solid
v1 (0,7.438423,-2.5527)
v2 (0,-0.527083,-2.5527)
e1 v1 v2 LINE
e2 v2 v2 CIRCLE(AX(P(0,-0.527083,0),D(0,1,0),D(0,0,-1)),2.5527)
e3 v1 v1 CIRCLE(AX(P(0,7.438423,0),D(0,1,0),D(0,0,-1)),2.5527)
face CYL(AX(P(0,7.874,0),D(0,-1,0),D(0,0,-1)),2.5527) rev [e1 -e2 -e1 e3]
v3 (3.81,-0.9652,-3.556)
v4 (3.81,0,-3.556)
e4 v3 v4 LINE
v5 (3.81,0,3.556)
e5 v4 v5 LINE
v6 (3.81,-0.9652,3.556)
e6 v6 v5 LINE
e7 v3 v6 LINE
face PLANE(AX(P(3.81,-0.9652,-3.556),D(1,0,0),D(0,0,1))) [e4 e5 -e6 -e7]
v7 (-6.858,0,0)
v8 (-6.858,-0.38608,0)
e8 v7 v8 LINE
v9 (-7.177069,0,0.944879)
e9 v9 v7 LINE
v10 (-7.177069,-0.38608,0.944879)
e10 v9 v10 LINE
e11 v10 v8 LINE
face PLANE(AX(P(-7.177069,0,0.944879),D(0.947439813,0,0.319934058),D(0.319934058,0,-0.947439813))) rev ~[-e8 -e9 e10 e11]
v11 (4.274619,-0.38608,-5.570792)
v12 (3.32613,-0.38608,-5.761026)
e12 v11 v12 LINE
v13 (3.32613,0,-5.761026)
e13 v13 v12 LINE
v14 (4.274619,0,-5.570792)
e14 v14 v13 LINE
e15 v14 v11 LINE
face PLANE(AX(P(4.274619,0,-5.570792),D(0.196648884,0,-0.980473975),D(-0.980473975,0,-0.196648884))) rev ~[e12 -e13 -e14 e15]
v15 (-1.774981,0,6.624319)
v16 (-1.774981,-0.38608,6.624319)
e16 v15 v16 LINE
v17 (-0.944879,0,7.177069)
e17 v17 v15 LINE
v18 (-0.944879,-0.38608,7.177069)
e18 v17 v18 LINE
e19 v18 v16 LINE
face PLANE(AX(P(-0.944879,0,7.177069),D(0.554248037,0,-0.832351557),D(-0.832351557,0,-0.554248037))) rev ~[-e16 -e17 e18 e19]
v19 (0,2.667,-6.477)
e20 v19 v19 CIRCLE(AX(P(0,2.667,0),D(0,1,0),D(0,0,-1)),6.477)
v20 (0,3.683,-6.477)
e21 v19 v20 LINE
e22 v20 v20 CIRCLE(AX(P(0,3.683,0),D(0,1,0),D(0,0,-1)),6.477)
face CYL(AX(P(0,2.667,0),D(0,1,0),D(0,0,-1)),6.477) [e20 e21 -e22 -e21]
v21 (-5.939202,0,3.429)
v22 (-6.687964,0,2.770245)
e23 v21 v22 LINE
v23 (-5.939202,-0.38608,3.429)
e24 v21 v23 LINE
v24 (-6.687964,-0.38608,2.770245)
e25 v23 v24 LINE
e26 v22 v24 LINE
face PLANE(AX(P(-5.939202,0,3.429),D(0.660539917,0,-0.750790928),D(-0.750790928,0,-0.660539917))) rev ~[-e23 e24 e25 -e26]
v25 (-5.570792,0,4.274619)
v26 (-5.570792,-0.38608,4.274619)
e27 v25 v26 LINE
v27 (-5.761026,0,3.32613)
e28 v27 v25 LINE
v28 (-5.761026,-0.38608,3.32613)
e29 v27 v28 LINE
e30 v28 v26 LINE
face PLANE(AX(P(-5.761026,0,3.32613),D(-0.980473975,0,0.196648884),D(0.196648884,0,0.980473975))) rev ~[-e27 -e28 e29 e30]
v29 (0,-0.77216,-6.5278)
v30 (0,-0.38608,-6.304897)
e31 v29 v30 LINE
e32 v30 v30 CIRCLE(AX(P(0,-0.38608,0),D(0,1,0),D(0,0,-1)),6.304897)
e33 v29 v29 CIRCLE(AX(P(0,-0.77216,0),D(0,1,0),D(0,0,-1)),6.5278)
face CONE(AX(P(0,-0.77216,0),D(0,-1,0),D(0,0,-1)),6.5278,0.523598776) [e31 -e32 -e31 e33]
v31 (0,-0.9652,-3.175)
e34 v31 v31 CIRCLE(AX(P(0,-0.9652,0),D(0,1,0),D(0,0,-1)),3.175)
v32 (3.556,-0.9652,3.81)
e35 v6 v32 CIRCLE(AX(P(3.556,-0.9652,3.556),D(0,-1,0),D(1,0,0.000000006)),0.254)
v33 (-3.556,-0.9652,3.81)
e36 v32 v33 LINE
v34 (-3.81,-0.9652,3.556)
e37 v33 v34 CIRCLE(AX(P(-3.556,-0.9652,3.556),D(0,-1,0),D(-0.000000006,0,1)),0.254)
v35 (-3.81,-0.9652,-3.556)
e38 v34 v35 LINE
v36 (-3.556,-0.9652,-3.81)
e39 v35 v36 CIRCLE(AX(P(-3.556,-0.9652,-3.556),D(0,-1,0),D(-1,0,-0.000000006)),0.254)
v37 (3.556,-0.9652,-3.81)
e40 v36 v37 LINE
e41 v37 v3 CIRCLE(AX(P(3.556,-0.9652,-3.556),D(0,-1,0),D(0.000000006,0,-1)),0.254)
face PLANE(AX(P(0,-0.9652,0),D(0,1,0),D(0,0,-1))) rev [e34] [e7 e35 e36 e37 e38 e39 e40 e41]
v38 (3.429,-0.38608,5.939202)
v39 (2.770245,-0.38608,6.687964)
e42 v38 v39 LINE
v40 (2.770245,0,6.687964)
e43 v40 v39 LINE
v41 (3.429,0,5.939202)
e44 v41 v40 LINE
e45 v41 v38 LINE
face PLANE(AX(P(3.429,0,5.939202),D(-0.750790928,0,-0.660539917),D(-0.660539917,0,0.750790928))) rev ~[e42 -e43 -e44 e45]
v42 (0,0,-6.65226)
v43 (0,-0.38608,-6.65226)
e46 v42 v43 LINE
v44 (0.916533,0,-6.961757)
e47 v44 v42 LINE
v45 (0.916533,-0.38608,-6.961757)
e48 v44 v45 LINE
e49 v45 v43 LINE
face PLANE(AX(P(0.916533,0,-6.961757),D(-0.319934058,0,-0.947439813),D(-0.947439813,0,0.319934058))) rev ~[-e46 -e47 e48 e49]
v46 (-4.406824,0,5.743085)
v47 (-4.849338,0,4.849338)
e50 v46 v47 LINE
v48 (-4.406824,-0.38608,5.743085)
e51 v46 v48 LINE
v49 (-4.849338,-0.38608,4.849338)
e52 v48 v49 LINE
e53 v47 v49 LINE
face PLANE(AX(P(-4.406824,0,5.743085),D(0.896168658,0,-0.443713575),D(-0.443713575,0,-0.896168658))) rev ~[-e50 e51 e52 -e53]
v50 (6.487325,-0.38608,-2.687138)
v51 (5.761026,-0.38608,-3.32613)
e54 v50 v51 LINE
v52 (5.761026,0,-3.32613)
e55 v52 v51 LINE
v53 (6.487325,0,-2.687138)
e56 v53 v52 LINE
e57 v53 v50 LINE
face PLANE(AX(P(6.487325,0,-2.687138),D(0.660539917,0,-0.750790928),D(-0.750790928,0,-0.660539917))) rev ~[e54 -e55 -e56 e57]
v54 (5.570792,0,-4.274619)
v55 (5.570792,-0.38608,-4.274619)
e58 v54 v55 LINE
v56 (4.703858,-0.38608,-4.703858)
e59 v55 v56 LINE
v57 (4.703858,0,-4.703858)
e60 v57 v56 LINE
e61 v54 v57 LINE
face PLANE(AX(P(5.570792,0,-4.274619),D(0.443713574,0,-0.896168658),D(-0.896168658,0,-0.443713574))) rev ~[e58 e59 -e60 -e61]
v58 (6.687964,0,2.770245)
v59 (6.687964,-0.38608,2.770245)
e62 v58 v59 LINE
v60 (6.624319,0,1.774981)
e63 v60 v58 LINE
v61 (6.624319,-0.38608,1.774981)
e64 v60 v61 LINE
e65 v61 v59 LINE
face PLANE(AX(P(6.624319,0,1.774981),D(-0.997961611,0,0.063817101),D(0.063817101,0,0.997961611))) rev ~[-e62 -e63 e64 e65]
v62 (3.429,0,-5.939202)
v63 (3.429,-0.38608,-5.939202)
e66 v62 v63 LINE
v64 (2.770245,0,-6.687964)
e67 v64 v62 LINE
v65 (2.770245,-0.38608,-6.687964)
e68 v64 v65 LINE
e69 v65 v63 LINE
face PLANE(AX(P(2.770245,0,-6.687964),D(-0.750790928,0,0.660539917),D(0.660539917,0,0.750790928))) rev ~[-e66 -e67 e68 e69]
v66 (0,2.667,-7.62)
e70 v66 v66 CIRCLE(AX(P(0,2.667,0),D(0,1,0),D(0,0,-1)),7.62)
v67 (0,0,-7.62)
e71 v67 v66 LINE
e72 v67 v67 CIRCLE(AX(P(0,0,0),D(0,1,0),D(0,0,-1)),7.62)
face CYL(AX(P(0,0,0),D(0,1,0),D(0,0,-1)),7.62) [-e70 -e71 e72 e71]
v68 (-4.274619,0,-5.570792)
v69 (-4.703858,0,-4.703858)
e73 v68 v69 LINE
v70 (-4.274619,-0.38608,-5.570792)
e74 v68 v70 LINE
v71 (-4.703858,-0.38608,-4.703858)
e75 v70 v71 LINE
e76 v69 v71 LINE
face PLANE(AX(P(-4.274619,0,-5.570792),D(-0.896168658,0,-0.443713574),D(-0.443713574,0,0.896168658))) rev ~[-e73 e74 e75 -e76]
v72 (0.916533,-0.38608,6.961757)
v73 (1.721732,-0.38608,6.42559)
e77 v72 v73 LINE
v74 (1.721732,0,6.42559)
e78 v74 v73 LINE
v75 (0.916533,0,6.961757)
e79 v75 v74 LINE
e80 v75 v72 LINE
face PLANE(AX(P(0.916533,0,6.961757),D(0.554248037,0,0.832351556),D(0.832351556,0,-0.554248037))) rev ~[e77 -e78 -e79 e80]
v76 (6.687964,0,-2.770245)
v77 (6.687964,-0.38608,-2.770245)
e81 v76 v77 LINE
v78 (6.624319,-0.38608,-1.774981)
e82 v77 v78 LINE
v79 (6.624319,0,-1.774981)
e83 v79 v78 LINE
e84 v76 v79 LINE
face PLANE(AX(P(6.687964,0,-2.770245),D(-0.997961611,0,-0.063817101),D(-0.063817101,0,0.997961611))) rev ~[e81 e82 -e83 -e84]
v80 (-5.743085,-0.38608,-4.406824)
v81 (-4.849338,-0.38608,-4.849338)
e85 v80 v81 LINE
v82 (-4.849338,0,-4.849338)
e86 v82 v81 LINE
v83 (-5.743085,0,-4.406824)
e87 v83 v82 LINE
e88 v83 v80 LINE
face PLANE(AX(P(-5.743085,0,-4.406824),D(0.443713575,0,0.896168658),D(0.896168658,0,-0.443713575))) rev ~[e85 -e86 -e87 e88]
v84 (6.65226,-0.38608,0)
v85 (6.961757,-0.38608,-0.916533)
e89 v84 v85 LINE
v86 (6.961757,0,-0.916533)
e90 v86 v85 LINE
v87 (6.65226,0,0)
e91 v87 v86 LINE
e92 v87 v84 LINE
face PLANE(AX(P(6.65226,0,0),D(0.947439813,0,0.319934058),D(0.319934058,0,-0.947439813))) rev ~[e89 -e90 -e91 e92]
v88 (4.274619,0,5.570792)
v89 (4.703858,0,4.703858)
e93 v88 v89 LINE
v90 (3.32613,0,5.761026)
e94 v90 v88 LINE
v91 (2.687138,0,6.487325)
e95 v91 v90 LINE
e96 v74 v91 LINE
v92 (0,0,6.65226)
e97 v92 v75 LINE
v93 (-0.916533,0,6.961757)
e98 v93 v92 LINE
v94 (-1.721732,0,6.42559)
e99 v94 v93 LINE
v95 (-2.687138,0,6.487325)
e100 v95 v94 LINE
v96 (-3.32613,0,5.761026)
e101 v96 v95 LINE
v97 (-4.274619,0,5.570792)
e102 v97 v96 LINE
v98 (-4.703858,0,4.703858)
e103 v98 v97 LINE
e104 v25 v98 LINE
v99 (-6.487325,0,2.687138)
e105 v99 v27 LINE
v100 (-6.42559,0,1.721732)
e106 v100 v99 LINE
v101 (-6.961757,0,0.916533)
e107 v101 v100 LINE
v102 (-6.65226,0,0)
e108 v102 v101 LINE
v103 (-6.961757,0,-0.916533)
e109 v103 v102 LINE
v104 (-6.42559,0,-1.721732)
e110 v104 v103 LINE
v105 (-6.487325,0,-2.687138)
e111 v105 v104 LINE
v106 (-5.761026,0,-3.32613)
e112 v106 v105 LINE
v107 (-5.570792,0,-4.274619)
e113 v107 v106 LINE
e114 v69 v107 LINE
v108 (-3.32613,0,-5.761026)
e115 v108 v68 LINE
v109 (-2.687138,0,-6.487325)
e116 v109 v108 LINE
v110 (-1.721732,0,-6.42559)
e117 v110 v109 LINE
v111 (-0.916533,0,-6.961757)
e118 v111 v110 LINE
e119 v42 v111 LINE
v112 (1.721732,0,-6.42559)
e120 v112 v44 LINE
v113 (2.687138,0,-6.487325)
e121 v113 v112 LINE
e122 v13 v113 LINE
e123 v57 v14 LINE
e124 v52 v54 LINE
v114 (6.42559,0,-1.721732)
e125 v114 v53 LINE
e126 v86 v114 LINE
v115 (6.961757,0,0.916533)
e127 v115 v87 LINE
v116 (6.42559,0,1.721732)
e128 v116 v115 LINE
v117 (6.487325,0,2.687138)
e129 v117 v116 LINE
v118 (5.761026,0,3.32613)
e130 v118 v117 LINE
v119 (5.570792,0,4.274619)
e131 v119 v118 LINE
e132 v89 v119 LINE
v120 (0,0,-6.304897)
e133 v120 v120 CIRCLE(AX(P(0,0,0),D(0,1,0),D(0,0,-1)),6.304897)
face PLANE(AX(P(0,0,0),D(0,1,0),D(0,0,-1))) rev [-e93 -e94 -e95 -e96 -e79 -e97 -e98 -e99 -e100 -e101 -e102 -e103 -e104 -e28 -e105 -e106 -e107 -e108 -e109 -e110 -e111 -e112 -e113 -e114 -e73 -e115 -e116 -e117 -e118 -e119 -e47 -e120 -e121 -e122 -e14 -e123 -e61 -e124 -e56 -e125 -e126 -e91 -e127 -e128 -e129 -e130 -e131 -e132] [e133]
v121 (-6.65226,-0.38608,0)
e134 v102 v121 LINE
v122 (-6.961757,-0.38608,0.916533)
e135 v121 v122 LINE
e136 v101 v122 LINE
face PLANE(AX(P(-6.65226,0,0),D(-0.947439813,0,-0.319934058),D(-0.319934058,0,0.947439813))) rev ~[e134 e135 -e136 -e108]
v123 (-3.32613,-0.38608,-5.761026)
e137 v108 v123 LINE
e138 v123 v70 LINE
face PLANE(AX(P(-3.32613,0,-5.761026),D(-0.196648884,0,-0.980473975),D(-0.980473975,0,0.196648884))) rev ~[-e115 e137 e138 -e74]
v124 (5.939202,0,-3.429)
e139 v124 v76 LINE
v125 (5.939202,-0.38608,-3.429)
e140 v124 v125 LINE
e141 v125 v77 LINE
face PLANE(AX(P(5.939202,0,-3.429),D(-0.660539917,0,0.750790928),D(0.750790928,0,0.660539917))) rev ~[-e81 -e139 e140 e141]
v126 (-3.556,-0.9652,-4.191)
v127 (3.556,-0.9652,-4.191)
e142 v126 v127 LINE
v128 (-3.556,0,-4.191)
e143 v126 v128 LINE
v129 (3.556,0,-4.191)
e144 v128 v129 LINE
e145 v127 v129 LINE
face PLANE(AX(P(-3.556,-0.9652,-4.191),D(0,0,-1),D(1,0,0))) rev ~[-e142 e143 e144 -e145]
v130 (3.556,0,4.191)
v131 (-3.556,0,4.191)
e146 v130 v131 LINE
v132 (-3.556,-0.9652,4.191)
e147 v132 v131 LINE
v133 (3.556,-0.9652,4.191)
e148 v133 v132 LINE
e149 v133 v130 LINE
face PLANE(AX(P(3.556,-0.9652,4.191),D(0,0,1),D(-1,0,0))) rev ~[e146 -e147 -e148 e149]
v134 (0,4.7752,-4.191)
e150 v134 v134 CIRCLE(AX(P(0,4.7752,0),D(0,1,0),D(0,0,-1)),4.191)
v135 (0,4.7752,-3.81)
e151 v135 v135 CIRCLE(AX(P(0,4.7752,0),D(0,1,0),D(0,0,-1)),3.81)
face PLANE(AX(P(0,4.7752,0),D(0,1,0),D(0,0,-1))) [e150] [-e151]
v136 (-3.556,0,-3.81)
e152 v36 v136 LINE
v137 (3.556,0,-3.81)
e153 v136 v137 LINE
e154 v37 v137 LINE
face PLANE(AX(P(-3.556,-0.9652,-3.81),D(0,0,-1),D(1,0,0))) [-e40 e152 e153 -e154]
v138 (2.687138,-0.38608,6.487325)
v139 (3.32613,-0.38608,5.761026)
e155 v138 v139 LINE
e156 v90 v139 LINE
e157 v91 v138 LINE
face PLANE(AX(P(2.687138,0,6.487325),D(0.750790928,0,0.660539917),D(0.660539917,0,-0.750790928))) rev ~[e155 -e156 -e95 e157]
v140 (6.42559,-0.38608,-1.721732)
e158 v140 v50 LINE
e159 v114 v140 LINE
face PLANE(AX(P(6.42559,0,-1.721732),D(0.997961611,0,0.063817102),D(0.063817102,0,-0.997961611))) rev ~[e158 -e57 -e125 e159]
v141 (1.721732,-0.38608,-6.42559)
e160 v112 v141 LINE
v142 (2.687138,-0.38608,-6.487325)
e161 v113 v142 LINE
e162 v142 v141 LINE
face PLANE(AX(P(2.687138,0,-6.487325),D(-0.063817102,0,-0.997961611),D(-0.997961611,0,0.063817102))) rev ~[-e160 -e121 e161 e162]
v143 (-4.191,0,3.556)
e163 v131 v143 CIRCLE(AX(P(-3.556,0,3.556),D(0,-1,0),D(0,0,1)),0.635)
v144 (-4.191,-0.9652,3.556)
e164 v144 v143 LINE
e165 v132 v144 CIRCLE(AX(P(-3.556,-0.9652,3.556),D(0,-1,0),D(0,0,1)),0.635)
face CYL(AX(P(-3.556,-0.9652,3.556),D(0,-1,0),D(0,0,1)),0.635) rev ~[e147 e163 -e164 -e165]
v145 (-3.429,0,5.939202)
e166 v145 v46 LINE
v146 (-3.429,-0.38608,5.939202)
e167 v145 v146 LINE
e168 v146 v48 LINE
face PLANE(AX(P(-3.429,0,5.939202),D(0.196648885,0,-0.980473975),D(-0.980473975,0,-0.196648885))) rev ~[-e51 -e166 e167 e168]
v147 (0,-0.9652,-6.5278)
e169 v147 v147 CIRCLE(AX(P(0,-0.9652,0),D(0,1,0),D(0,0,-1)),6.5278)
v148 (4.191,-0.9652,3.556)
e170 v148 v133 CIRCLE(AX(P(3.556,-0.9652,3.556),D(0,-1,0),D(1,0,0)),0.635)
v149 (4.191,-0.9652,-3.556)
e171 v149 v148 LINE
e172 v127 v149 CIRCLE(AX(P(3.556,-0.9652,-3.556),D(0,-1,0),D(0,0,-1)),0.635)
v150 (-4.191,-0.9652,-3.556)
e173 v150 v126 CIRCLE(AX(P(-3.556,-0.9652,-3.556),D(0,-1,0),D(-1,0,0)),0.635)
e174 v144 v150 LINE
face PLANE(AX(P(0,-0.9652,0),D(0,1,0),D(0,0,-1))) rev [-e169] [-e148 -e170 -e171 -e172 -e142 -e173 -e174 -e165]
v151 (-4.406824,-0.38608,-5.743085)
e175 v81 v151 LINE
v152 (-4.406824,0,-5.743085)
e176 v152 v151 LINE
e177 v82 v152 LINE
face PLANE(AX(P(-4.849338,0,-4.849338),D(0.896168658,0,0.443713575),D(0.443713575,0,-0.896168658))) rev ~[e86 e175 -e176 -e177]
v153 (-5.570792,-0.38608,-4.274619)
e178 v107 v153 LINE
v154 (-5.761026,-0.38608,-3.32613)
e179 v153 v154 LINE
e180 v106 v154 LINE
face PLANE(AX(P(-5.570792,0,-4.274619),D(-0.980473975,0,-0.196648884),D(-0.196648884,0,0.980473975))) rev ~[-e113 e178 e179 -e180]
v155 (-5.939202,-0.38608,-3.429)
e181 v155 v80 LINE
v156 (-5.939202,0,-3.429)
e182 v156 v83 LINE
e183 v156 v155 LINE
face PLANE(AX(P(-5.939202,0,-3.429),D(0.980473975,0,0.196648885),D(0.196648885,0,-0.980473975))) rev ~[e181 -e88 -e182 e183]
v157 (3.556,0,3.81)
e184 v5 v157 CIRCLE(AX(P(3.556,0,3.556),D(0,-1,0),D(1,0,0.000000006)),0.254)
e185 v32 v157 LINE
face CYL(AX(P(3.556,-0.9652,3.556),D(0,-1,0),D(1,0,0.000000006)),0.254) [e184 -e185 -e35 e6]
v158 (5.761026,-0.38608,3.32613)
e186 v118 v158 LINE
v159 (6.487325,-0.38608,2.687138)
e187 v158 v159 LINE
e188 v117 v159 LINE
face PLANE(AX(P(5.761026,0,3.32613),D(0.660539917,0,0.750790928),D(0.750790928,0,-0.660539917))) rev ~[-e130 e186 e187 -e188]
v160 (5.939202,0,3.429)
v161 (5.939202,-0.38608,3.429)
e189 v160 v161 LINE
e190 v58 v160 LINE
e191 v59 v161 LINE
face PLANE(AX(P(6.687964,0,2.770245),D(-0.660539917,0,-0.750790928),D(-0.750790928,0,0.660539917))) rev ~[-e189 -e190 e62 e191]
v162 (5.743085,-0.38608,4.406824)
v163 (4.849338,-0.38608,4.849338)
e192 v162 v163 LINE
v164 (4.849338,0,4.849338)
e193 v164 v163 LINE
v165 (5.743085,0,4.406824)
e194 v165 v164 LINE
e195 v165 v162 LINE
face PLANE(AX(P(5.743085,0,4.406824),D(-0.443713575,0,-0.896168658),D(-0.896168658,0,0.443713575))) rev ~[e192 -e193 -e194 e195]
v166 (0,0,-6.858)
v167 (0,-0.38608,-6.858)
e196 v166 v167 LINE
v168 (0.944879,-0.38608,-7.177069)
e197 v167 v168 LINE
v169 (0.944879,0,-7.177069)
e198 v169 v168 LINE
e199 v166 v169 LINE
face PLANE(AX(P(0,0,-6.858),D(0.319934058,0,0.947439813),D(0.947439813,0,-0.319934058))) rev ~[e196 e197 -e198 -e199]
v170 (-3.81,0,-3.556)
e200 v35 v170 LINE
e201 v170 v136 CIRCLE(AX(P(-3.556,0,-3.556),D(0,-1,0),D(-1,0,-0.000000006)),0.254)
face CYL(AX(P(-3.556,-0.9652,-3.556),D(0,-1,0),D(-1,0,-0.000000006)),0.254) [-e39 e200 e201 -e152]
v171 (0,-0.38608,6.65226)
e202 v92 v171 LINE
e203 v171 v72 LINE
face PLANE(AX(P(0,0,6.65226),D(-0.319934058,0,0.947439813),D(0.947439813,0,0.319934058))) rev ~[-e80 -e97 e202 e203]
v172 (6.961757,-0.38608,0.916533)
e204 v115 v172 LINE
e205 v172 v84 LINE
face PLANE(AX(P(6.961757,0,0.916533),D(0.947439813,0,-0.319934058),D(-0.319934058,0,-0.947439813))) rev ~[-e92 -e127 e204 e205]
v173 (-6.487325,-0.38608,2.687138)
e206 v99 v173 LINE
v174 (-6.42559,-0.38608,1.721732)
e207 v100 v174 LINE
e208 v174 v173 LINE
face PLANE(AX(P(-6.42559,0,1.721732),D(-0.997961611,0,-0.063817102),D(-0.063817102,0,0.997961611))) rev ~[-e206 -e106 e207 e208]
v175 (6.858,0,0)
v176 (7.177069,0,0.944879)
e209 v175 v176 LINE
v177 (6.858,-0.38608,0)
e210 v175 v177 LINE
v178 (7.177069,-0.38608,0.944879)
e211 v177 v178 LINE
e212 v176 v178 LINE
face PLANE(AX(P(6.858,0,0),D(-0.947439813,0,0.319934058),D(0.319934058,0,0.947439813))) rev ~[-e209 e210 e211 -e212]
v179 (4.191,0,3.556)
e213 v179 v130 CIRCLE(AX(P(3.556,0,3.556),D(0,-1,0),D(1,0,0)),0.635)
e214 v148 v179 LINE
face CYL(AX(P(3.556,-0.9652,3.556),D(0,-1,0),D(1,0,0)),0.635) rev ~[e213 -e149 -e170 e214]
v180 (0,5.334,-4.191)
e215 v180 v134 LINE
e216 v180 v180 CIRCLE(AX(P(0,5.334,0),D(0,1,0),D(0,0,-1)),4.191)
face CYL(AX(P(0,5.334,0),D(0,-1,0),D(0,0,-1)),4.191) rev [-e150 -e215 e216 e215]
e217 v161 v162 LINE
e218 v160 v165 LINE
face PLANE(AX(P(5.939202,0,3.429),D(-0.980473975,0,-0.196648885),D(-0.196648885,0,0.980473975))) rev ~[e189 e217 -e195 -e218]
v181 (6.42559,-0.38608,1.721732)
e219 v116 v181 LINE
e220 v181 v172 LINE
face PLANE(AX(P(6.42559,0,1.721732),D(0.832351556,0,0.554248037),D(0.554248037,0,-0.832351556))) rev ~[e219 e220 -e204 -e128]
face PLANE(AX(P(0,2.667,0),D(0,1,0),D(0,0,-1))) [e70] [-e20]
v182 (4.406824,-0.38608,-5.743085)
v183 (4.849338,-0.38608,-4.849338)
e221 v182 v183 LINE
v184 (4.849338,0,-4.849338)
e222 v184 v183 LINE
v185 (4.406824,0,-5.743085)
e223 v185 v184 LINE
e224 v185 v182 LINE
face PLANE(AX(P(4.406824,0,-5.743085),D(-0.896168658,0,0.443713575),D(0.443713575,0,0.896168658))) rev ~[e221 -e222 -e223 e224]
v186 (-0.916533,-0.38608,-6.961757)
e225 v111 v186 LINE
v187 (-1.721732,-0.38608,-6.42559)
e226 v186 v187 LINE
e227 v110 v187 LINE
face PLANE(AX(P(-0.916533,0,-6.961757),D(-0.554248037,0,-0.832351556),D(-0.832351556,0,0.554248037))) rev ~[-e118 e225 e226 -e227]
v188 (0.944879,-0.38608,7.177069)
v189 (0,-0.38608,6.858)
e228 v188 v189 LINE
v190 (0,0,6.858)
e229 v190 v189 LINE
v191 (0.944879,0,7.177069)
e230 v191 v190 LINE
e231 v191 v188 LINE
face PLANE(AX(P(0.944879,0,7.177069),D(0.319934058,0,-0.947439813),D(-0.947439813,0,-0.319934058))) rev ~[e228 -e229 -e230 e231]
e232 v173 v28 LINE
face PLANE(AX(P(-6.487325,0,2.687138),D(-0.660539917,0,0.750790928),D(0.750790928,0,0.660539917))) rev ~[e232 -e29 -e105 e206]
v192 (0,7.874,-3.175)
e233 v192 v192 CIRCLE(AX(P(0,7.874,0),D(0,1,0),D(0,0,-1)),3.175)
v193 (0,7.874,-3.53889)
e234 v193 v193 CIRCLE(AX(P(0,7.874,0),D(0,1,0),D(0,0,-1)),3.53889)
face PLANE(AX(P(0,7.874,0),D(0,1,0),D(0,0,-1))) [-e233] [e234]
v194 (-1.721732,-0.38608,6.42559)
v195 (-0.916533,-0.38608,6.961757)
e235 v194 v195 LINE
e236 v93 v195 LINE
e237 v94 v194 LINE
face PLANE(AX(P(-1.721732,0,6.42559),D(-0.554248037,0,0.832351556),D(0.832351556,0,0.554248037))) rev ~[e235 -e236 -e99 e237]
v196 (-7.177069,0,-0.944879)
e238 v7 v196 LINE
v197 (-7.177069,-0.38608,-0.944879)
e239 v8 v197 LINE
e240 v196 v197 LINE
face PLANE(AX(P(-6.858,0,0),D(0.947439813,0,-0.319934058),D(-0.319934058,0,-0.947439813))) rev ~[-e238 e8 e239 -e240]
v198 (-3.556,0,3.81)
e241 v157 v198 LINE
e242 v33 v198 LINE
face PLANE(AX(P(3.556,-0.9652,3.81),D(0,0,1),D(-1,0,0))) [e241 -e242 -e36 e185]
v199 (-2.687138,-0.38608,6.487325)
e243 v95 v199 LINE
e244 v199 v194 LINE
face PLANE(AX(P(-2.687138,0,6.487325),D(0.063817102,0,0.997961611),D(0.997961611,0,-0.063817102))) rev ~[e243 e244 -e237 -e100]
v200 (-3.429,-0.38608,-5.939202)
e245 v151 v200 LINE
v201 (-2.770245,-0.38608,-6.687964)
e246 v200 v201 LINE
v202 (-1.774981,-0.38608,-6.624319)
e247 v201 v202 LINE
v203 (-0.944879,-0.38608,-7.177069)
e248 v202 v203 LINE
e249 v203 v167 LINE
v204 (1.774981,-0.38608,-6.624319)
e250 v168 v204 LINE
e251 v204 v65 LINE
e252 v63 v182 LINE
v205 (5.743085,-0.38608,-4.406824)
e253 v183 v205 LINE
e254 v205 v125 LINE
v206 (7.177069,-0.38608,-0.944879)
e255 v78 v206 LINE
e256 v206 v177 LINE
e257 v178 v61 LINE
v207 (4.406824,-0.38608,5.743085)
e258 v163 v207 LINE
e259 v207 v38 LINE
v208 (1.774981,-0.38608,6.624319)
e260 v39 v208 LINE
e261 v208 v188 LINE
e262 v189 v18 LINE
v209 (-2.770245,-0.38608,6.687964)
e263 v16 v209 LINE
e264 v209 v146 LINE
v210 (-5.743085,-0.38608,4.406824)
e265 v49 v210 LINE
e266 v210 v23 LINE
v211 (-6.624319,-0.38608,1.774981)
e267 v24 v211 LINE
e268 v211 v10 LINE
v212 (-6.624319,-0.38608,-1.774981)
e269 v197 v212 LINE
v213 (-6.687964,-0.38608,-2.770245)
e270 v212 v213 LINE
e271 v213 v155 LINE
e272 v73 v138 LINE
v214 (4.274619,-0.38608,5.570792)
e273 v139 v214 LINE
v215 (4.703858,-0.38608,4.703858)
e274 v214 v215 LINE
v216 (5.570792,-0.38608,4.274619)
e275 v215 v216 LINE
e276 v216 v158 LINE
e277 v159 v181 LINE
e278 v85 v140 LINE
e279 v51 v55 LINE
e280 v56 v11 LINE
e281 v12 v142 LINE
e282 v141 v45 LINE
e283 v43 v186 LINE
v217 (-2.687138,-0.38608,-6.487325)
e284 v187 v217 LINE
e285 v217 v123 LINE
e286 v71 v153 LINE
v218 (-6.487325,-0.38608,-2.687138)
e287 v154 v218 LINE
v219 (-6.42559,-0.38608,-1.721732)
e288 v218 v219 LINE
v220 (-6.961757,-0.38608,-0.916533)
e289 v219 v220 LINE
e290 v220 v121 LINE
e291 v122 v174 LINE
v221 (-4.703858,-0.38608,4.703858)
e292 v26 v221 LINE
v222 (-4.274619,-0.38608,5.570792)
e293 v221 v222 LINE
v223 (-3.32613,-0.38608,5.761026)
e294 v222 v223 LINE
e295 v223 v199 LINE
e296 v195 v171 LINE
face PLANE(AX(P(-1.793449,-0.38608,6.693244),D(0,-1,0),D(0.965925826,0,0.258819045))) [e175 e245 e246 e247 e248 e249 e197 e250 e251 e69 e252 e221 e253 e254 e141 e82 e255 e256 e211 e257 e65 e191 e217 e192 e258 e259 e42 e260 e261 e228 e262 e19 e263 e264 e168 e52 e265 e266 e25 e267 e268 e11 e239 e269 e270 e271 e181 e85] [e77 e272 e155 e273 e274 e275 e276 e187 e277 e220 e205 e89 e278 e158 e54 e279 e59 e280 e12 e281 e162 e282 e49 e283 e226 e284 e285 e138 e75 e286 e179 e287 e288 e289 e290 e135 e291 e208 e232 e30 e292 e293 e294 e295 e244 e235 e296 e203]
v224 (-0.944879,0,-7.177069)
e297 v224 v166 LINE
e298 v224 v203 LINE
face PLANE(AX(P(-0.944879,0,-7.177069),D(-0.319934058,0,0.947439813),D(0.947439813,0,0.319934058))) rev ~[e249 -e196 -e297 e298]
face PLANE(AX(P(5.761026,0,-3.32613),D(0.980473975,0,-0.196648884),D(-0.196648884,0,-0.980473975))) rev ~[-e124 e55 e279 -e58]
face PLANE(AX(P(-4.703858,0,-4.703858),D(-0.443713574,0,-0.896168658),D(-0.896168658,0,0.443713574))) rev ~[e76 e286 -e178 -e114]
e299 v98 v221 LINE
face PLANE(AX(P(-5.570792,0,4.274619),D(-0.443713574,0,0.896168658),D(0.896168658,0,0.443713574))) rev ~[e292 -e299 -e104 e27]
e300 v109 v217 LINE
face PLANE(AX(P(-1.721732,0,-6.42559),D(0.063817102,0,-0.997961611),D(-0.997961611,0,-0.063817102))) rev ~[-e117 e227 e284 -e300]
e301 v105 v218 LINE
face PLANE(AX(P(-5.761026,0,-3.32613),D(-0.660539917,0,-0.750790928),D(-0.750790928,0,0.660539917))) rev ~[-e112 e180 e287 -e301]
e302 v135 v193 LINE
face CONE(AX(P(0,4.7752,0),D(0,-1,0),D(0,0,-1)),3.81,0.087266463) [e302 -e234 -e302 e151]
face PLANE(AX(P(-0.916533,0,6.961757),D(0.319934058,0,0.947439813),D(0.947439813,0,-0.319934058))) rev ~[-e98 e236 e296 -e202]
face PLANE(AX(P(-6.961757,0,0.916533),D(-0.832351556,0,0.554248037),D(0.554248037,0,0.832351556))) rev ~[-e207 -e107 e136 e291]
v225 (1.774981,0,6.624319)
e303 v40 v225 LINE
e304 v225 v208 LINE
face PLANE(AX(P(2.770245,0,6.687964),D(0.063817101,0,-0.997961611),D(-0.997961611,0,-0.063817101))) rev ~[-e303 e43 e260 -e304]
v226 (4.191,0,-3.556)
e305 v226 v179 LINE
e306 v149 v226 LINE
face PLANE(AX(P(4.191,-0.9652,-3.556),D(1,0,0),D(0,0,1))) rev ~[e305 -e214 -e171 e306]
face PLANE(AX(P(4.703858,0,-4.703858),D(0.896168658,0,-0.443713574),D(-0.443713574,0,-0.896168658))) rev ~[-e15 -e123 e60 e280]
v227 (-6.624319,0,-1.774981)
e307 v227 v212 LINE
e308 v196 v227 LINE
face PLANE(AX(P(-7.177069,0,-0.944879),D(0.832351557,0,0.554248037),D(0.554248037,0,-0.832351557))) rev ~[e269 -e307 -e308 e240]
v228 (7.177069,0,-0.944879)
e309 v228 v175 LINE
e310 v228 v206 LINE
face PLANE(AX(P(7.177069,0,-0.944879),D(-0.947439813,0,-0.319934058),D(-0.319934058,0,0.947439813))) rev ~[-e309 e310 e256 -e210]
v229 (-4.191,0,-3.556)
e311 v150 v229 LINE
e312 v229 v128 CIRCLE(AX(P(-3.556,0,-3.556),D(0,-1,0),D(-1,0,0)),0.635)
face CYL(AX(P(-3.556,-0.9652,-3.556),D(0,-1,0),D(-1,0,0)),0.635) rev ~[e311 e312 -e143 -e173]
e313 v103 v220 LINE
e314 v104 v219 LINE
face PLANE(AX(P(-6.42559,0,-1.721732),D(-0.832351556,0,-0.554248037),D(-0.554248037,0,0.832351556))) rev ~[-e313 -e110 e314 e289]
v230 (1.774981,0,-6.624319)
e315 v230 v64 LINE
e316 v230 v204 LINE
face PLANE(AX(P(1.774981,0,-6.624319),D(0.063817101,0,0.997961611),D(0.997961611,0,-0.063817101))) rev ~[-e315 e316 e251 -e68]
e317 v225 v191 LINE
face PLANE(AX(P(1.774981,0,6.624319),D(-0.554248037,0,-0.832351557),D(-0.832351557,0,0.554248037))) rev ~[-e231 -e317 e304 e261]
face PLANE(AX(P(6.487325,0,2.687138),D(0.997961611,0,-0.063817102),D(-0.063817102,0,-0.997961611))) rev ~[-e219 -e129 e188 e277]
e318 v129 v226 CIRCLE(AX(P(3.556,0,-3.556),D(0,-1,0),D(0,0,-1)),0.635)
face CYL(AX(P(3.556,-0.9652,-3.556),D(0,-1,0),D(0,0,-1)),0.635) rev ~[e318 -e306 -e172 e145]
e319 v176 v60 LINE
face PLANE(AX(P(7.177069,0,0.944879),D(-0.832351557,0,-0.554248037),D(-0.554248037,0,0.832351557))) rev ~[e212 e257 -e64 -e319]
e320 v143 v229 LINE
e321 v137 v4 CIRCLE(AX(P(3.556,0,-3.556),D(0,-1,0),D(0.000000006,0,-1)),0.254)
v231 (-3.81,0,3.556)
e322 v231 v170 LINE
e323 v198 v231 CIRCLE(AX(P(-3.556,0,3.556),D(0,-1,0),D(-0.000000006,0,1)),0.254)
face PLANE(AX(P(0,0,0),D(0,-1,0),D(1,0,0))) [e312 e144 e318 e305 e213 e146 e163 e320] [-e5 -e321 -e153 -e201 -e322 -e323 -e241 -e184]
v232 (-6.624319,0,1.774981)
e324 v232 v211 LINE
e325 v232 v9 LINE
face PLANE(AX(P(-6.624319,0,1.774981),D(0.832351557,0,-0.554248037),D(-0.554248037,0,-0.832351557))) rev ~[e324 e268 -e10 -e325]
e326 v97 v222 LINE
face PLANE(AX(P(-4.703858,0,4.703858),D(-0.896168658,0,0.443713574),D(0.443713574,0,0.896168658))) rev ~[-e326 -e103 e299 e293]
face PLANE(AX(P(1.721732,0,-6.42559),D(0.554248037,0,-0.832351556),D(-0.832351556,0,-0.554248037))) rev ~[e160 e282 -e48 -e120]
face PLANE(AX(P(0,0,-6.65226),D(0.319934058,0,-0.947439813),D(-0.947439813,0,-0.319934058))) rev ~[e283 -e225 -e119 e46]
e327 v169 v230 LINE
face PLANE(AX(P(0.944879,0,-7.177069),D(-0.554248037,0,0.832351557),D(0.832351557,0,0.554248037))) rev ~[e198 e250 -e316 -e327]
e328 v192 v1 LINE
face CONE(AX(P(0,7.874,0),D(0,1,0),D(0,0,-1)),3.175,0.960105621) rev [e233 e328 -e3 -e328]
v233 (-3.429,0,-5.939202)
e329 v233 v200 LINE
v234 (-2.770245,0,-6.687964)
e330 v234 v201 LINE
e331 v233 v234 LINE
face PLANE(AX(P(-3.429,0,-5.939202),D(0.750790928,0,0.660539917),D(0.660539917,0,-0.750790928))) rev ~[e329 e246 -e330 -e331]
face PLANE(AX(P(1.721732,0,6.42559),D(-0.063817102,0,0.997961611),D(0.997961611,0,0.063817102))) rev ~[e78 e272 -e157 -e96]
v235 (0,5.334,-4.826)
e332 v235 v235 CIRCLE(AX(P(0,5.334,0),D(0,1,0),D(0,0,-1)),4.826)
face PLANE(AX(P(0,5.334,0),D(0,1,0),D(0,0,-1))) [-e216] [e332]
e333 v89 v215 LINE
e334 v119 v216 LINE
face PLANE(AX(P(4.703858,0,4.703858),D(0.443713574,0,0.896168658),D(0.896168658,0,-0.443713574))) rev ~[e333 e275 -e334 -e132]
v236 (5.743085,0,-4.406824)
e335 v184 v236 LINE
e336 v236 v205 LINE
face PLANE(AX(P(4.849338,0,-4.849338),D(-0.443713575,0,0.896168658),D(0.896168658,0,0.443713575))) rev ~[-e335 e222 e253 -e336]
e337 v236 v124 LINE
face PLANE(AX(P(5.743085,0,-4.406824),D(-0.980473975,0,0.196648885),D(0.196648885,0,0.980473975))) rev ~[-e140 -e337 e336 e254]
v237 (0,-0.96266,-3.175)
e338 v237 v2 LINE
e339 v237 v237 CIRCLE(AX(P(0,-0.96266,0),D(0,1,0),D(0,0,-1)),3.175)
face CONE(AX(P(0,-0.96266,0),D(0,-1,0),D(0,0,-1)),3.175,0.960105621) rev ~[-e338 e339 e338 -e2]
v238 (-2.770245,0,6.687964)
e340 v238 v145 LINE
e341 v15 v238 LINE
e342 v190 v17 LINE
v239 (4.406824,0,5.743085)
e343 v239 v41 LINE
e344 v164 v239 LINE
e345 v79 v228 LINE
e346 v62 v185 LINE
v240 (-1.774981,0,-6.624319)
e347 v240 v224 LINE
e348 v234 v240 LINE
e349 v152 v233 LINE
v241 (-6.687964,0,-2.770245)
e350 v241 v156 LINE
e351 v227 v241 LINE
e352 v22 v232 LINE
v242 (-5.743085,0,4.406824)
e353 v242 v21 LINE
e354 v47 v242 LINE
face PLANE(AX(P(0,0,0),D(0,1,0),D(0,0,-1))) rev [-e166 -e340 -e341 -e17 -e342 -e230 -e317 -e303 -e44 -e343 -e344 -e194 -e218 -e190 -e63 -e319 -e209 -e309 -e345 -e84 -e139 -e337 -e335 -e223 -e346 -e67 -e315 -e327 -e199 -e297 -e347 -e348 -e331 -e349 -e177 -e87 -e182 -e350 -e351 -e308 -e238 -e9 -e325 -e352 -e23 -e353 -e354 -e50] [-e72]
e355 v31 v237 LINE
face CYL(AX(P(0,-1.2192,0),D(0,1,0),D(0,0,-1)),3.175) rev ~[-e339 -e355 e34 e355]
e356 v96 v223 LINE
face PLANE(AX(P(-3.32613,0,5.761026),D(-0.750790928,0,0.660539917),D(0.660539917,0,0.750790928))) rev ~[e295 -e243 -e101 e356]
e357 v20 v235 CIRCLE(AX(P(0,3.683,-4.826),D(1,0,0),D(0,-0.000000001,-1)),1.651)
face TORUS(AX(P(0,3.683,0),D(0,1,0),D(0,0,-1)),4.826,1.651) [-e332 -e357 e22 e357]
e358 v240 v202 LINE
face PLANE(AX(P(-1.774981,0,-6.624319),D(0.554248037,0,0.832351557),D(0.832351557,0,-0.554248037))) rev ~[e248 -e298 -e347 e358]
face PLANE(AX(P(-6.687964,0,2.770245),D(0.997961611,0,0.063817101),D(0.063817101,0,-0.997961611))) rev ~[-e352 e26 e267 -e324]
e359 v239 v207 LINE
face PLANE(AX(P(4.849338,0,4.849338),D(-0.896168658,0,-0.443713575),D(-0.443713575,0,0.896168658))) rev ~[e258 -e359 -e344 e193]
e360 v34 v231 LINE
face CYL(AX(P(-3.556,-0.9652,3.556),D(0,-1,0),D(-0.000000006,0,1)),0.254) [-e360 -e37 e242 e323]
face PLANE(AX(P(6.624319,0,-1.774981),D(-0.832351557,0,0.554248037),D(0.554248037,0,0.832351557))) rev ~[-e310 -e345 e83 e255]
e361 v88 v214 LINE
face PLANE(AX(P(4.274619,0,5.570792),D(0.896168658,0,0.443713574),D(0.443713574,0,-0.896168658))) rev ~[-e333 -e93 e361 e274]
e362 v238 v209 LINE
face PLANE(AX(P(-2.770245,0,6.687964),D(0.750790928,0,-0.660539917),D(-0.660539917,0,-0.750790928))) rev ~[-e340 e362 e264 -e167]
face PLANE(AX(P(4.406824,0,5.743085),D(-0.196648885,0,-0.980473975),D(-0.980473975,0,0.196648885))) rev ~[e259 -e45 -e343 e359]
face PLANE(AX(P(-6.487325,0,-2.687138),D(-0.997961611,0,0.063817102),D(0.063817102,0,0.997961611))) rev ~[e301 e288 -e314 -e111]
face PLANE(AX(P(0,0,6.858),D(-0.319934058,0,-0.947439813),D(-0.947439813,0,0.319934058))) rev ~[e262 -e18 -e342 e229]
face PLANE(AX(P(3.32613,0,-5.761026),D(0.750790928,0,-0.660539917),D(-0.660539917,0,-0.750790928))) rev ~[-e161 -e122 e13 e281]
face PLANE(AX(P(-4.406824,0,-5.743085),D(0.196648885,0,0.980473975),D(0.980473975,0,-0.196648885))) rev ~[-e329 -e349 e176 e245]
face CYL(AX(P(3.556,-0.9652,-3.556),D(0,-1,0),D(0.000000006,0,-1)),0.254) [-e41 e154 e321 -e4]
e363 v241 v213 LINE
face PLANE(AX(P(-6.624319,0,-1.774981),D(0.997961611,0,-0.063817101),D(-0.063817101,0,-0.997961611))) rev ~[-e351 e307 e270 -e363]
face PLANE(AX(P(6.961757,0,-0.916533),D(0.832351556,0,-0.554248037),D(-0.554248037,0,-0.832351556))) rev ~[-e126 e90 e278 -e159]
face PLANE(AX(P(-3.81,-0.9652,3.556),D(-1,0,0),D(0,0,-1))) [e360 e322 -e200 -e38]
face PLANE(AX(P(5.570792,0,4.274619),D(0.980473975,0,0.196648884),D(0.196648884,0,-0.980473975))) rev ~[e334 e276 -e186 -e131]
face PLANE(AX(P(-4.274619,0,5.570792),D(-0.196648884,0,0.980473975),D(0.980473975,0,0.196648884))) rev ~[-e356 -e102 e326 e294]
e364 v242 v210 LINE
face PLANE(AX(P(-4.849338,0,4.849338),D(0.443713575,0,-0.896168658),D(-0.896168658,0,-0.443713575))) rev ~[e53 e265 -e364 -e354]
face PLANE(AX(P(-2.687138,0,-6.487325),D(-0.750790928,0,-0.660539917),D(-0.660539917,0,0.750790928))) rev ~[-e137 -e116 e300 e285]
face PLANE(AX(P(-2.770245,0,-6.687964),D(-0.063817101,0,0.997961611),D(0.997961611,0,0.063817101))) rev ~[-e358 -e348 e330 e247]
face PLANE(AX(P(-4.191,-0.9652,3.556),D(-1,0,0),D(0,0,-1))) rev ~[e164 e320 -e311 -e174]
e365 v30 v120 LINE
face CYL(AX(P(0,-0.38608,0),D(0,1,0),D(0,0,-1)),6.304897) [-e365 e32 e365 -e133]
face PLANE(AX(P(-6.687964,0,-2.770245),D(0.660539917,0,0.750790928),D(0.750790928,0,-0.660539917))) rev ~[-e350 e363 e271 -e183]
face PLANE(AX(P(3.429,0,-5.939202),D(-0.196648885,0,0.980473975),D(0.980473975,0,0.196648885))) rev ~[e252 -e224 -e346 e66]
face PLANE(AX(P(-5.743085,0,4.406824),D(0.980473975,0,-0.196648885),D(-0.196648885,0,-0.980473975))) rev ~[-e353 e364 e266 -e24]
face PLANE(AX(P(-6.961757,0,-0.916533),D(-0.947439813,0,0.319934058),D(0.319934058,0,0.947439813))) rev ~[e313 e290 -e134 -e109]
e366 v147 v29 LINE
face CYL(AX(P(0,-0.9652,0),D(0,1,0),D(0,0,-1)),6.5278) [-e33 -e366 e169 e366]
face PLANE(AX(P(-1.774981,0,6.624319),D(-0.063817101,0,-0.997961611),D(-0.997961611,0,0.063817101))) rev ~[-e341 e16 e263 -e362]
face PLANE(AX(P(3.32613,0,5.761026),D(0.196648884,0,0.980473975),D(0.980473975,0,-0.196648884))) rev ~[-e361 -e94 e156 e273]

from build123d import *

# Parameters (mm, degrees)
CLINCHINGRINGSEGMENT_DEPTH = 0.38608
CLINCHINGRING_COUNT        = 24
CLINCHINGRING_ANGLE        = 345
SQRCUT_DEPTH               = 0.9652


with BuildPart() as part:
    # BodySke → Body (revolve)
    with BuildSketch(Plane.XY, mode=Mode.PRIVATE) as body_sk:
        with BuildLine():
            Line((6.304896608, 0), (7.62, 0))
            Line((7.62, 0), (7.62, 2.667))
            Line((7.62, 2.667), (6.477, 2.667))
            Line((6.477, 2.667), (6.477, 3.683))
            ThreePointArc((6.477, 3.683), (5.993433296, 4.850433296), (4.826, 5.334))
            Line((4.826, 5.334), (4.191, 5.334))
            Line((4.191, 5.334), (4.191, 4.7752))
            Line((4.191, 4.7752), (3.81, 4.7752))
            Line((3.81, 4.7752), (3.538890129, 7.874))
            Line((3.538890129, 7.874), (2.5527, 7.874))
            Line((2.5527, 7.874), (2.5527, -0.9652))
            Line((2.5527, -0.9652), (6.5278, -0.9652))
            Line((6.5278, -0.9652), (6.5278, -0.77216))
            Line((6.5278, -0.77216), (6.304896608, -0.38608))
            Line((6.304896608, -0.38608), (6.304896608, 0))
        make_face()
    revolve(body_sk.sketch.rotate(Axis((0, 0, 0), (0, 1, 0)), 90), axis=Axis((0, 0, 0), (0, 1, 0)))

    # EndChamferSke → EndChamfer (revolve, cut)
    with BuildSketch(Plane.XY, mode=Mode.PRIVATE) as endchamfer_sk:
        Polygon((3.175, -1.2192), (3.175, -0.96266), (2.5527, -0.527082692), (2.5527, -1.2192), align=None)
        Polygon((3.175, 7.874), (2.5527, 7.438422692), (2.5527, 7.874), align=None)
    revolve(endchamfer_sk.sketch.rotate(Axis((0, -2.54, 0), (0, 1, 0)), 90), axis=Axis((0, -2.54, 0), (0, 1, 0)), mode=Mode.SUBTRACT)

    # CliRinSegSke → ClinchingRingSegment (add)
    with BuildSketch(Plane.XZ):
        Polygon((0.944879105, 7.177069351), (0, 6.858), (-0.944879105, 7.177069351), (-0.916532732, 6.961757271), (0, 6.65226), (0.916532732, 6.961757271), align=None)
    clinchingringsegment = extrude(amount=CLINCHINGRINGSEGMENT_DEPTH)

    # ClinchingRing: ClinchingRingSegment ×24 about axis
    clinchingring_axis = Axis((0, 0, 0), (0, 1, 0))
    for i in range(1, CLINCHINGRING_COUNT):
        add(clinchingringsegment.rotate(clinchingring_axis, i * CLINCHINGRING_ANGLE / (CLINCHINGRING_COUNT - 1)))

    # SqrCutSke → SqrCut (cut)
    with BuildSketch(Plane.XZ.offset(0.9652)):
        with BuildLine():
            Line((-3.556, -4.191), (3.556, -4.191))
            ThreePointArc((3.556, -4.191), (4.005012806, -4.005012806), (4.191, -3.556))
            Line((4.191, -3.556), (4.191, 3.556))
            ThreePointArc((4.191, 3.556), (4.005012806, 4.005012806), (3.556, 4.191))
            Line((3.556, 4.191), (-3.556, 4.191))
            ThreePointArc((-3.556, 4.191), (-4.005012806, 4.005012806), (-4.191, 3.556))
            Line((-4.191, 3.556), (-4.191, -3.556))
            ThreePointArc((-4.191, -3.556), (-4.005012806, -4.005012806), (-3.556, -4.191))
        make_face()
        with BuildLine():
            Line((3.81, -3.556), (3.81, 3.556))
            ThreePointArc((3.81, 3.556), (3.735605122, 3.735605122), (3.556, 3.81))
            Line((3.556, 3.81), (-3.556, 3.81))
            ThreePointArc((-3.556, 3.81), (-3.735605122, 3.735605122), (-3.81, 3.556))
            Line((-3.81, 3.556), (-3.81, -3.556))
            ThreePointArc((-3.81, -3.556), (-3.735605122, -3.735605122), (-3.556, -3.81))
            Line((-3.556, -3.81), (3.556, -3.81))
            ThreePointArc((3.556, -3.81), (3.735605122, -3.735605122), (3.81, -3.556))
        make_face(mode=Mode.SUBTRACT)
    extrude(amount=-SQRCUT_DEPTH, mode=Mode.SUBTRACT)


solid = part.part
